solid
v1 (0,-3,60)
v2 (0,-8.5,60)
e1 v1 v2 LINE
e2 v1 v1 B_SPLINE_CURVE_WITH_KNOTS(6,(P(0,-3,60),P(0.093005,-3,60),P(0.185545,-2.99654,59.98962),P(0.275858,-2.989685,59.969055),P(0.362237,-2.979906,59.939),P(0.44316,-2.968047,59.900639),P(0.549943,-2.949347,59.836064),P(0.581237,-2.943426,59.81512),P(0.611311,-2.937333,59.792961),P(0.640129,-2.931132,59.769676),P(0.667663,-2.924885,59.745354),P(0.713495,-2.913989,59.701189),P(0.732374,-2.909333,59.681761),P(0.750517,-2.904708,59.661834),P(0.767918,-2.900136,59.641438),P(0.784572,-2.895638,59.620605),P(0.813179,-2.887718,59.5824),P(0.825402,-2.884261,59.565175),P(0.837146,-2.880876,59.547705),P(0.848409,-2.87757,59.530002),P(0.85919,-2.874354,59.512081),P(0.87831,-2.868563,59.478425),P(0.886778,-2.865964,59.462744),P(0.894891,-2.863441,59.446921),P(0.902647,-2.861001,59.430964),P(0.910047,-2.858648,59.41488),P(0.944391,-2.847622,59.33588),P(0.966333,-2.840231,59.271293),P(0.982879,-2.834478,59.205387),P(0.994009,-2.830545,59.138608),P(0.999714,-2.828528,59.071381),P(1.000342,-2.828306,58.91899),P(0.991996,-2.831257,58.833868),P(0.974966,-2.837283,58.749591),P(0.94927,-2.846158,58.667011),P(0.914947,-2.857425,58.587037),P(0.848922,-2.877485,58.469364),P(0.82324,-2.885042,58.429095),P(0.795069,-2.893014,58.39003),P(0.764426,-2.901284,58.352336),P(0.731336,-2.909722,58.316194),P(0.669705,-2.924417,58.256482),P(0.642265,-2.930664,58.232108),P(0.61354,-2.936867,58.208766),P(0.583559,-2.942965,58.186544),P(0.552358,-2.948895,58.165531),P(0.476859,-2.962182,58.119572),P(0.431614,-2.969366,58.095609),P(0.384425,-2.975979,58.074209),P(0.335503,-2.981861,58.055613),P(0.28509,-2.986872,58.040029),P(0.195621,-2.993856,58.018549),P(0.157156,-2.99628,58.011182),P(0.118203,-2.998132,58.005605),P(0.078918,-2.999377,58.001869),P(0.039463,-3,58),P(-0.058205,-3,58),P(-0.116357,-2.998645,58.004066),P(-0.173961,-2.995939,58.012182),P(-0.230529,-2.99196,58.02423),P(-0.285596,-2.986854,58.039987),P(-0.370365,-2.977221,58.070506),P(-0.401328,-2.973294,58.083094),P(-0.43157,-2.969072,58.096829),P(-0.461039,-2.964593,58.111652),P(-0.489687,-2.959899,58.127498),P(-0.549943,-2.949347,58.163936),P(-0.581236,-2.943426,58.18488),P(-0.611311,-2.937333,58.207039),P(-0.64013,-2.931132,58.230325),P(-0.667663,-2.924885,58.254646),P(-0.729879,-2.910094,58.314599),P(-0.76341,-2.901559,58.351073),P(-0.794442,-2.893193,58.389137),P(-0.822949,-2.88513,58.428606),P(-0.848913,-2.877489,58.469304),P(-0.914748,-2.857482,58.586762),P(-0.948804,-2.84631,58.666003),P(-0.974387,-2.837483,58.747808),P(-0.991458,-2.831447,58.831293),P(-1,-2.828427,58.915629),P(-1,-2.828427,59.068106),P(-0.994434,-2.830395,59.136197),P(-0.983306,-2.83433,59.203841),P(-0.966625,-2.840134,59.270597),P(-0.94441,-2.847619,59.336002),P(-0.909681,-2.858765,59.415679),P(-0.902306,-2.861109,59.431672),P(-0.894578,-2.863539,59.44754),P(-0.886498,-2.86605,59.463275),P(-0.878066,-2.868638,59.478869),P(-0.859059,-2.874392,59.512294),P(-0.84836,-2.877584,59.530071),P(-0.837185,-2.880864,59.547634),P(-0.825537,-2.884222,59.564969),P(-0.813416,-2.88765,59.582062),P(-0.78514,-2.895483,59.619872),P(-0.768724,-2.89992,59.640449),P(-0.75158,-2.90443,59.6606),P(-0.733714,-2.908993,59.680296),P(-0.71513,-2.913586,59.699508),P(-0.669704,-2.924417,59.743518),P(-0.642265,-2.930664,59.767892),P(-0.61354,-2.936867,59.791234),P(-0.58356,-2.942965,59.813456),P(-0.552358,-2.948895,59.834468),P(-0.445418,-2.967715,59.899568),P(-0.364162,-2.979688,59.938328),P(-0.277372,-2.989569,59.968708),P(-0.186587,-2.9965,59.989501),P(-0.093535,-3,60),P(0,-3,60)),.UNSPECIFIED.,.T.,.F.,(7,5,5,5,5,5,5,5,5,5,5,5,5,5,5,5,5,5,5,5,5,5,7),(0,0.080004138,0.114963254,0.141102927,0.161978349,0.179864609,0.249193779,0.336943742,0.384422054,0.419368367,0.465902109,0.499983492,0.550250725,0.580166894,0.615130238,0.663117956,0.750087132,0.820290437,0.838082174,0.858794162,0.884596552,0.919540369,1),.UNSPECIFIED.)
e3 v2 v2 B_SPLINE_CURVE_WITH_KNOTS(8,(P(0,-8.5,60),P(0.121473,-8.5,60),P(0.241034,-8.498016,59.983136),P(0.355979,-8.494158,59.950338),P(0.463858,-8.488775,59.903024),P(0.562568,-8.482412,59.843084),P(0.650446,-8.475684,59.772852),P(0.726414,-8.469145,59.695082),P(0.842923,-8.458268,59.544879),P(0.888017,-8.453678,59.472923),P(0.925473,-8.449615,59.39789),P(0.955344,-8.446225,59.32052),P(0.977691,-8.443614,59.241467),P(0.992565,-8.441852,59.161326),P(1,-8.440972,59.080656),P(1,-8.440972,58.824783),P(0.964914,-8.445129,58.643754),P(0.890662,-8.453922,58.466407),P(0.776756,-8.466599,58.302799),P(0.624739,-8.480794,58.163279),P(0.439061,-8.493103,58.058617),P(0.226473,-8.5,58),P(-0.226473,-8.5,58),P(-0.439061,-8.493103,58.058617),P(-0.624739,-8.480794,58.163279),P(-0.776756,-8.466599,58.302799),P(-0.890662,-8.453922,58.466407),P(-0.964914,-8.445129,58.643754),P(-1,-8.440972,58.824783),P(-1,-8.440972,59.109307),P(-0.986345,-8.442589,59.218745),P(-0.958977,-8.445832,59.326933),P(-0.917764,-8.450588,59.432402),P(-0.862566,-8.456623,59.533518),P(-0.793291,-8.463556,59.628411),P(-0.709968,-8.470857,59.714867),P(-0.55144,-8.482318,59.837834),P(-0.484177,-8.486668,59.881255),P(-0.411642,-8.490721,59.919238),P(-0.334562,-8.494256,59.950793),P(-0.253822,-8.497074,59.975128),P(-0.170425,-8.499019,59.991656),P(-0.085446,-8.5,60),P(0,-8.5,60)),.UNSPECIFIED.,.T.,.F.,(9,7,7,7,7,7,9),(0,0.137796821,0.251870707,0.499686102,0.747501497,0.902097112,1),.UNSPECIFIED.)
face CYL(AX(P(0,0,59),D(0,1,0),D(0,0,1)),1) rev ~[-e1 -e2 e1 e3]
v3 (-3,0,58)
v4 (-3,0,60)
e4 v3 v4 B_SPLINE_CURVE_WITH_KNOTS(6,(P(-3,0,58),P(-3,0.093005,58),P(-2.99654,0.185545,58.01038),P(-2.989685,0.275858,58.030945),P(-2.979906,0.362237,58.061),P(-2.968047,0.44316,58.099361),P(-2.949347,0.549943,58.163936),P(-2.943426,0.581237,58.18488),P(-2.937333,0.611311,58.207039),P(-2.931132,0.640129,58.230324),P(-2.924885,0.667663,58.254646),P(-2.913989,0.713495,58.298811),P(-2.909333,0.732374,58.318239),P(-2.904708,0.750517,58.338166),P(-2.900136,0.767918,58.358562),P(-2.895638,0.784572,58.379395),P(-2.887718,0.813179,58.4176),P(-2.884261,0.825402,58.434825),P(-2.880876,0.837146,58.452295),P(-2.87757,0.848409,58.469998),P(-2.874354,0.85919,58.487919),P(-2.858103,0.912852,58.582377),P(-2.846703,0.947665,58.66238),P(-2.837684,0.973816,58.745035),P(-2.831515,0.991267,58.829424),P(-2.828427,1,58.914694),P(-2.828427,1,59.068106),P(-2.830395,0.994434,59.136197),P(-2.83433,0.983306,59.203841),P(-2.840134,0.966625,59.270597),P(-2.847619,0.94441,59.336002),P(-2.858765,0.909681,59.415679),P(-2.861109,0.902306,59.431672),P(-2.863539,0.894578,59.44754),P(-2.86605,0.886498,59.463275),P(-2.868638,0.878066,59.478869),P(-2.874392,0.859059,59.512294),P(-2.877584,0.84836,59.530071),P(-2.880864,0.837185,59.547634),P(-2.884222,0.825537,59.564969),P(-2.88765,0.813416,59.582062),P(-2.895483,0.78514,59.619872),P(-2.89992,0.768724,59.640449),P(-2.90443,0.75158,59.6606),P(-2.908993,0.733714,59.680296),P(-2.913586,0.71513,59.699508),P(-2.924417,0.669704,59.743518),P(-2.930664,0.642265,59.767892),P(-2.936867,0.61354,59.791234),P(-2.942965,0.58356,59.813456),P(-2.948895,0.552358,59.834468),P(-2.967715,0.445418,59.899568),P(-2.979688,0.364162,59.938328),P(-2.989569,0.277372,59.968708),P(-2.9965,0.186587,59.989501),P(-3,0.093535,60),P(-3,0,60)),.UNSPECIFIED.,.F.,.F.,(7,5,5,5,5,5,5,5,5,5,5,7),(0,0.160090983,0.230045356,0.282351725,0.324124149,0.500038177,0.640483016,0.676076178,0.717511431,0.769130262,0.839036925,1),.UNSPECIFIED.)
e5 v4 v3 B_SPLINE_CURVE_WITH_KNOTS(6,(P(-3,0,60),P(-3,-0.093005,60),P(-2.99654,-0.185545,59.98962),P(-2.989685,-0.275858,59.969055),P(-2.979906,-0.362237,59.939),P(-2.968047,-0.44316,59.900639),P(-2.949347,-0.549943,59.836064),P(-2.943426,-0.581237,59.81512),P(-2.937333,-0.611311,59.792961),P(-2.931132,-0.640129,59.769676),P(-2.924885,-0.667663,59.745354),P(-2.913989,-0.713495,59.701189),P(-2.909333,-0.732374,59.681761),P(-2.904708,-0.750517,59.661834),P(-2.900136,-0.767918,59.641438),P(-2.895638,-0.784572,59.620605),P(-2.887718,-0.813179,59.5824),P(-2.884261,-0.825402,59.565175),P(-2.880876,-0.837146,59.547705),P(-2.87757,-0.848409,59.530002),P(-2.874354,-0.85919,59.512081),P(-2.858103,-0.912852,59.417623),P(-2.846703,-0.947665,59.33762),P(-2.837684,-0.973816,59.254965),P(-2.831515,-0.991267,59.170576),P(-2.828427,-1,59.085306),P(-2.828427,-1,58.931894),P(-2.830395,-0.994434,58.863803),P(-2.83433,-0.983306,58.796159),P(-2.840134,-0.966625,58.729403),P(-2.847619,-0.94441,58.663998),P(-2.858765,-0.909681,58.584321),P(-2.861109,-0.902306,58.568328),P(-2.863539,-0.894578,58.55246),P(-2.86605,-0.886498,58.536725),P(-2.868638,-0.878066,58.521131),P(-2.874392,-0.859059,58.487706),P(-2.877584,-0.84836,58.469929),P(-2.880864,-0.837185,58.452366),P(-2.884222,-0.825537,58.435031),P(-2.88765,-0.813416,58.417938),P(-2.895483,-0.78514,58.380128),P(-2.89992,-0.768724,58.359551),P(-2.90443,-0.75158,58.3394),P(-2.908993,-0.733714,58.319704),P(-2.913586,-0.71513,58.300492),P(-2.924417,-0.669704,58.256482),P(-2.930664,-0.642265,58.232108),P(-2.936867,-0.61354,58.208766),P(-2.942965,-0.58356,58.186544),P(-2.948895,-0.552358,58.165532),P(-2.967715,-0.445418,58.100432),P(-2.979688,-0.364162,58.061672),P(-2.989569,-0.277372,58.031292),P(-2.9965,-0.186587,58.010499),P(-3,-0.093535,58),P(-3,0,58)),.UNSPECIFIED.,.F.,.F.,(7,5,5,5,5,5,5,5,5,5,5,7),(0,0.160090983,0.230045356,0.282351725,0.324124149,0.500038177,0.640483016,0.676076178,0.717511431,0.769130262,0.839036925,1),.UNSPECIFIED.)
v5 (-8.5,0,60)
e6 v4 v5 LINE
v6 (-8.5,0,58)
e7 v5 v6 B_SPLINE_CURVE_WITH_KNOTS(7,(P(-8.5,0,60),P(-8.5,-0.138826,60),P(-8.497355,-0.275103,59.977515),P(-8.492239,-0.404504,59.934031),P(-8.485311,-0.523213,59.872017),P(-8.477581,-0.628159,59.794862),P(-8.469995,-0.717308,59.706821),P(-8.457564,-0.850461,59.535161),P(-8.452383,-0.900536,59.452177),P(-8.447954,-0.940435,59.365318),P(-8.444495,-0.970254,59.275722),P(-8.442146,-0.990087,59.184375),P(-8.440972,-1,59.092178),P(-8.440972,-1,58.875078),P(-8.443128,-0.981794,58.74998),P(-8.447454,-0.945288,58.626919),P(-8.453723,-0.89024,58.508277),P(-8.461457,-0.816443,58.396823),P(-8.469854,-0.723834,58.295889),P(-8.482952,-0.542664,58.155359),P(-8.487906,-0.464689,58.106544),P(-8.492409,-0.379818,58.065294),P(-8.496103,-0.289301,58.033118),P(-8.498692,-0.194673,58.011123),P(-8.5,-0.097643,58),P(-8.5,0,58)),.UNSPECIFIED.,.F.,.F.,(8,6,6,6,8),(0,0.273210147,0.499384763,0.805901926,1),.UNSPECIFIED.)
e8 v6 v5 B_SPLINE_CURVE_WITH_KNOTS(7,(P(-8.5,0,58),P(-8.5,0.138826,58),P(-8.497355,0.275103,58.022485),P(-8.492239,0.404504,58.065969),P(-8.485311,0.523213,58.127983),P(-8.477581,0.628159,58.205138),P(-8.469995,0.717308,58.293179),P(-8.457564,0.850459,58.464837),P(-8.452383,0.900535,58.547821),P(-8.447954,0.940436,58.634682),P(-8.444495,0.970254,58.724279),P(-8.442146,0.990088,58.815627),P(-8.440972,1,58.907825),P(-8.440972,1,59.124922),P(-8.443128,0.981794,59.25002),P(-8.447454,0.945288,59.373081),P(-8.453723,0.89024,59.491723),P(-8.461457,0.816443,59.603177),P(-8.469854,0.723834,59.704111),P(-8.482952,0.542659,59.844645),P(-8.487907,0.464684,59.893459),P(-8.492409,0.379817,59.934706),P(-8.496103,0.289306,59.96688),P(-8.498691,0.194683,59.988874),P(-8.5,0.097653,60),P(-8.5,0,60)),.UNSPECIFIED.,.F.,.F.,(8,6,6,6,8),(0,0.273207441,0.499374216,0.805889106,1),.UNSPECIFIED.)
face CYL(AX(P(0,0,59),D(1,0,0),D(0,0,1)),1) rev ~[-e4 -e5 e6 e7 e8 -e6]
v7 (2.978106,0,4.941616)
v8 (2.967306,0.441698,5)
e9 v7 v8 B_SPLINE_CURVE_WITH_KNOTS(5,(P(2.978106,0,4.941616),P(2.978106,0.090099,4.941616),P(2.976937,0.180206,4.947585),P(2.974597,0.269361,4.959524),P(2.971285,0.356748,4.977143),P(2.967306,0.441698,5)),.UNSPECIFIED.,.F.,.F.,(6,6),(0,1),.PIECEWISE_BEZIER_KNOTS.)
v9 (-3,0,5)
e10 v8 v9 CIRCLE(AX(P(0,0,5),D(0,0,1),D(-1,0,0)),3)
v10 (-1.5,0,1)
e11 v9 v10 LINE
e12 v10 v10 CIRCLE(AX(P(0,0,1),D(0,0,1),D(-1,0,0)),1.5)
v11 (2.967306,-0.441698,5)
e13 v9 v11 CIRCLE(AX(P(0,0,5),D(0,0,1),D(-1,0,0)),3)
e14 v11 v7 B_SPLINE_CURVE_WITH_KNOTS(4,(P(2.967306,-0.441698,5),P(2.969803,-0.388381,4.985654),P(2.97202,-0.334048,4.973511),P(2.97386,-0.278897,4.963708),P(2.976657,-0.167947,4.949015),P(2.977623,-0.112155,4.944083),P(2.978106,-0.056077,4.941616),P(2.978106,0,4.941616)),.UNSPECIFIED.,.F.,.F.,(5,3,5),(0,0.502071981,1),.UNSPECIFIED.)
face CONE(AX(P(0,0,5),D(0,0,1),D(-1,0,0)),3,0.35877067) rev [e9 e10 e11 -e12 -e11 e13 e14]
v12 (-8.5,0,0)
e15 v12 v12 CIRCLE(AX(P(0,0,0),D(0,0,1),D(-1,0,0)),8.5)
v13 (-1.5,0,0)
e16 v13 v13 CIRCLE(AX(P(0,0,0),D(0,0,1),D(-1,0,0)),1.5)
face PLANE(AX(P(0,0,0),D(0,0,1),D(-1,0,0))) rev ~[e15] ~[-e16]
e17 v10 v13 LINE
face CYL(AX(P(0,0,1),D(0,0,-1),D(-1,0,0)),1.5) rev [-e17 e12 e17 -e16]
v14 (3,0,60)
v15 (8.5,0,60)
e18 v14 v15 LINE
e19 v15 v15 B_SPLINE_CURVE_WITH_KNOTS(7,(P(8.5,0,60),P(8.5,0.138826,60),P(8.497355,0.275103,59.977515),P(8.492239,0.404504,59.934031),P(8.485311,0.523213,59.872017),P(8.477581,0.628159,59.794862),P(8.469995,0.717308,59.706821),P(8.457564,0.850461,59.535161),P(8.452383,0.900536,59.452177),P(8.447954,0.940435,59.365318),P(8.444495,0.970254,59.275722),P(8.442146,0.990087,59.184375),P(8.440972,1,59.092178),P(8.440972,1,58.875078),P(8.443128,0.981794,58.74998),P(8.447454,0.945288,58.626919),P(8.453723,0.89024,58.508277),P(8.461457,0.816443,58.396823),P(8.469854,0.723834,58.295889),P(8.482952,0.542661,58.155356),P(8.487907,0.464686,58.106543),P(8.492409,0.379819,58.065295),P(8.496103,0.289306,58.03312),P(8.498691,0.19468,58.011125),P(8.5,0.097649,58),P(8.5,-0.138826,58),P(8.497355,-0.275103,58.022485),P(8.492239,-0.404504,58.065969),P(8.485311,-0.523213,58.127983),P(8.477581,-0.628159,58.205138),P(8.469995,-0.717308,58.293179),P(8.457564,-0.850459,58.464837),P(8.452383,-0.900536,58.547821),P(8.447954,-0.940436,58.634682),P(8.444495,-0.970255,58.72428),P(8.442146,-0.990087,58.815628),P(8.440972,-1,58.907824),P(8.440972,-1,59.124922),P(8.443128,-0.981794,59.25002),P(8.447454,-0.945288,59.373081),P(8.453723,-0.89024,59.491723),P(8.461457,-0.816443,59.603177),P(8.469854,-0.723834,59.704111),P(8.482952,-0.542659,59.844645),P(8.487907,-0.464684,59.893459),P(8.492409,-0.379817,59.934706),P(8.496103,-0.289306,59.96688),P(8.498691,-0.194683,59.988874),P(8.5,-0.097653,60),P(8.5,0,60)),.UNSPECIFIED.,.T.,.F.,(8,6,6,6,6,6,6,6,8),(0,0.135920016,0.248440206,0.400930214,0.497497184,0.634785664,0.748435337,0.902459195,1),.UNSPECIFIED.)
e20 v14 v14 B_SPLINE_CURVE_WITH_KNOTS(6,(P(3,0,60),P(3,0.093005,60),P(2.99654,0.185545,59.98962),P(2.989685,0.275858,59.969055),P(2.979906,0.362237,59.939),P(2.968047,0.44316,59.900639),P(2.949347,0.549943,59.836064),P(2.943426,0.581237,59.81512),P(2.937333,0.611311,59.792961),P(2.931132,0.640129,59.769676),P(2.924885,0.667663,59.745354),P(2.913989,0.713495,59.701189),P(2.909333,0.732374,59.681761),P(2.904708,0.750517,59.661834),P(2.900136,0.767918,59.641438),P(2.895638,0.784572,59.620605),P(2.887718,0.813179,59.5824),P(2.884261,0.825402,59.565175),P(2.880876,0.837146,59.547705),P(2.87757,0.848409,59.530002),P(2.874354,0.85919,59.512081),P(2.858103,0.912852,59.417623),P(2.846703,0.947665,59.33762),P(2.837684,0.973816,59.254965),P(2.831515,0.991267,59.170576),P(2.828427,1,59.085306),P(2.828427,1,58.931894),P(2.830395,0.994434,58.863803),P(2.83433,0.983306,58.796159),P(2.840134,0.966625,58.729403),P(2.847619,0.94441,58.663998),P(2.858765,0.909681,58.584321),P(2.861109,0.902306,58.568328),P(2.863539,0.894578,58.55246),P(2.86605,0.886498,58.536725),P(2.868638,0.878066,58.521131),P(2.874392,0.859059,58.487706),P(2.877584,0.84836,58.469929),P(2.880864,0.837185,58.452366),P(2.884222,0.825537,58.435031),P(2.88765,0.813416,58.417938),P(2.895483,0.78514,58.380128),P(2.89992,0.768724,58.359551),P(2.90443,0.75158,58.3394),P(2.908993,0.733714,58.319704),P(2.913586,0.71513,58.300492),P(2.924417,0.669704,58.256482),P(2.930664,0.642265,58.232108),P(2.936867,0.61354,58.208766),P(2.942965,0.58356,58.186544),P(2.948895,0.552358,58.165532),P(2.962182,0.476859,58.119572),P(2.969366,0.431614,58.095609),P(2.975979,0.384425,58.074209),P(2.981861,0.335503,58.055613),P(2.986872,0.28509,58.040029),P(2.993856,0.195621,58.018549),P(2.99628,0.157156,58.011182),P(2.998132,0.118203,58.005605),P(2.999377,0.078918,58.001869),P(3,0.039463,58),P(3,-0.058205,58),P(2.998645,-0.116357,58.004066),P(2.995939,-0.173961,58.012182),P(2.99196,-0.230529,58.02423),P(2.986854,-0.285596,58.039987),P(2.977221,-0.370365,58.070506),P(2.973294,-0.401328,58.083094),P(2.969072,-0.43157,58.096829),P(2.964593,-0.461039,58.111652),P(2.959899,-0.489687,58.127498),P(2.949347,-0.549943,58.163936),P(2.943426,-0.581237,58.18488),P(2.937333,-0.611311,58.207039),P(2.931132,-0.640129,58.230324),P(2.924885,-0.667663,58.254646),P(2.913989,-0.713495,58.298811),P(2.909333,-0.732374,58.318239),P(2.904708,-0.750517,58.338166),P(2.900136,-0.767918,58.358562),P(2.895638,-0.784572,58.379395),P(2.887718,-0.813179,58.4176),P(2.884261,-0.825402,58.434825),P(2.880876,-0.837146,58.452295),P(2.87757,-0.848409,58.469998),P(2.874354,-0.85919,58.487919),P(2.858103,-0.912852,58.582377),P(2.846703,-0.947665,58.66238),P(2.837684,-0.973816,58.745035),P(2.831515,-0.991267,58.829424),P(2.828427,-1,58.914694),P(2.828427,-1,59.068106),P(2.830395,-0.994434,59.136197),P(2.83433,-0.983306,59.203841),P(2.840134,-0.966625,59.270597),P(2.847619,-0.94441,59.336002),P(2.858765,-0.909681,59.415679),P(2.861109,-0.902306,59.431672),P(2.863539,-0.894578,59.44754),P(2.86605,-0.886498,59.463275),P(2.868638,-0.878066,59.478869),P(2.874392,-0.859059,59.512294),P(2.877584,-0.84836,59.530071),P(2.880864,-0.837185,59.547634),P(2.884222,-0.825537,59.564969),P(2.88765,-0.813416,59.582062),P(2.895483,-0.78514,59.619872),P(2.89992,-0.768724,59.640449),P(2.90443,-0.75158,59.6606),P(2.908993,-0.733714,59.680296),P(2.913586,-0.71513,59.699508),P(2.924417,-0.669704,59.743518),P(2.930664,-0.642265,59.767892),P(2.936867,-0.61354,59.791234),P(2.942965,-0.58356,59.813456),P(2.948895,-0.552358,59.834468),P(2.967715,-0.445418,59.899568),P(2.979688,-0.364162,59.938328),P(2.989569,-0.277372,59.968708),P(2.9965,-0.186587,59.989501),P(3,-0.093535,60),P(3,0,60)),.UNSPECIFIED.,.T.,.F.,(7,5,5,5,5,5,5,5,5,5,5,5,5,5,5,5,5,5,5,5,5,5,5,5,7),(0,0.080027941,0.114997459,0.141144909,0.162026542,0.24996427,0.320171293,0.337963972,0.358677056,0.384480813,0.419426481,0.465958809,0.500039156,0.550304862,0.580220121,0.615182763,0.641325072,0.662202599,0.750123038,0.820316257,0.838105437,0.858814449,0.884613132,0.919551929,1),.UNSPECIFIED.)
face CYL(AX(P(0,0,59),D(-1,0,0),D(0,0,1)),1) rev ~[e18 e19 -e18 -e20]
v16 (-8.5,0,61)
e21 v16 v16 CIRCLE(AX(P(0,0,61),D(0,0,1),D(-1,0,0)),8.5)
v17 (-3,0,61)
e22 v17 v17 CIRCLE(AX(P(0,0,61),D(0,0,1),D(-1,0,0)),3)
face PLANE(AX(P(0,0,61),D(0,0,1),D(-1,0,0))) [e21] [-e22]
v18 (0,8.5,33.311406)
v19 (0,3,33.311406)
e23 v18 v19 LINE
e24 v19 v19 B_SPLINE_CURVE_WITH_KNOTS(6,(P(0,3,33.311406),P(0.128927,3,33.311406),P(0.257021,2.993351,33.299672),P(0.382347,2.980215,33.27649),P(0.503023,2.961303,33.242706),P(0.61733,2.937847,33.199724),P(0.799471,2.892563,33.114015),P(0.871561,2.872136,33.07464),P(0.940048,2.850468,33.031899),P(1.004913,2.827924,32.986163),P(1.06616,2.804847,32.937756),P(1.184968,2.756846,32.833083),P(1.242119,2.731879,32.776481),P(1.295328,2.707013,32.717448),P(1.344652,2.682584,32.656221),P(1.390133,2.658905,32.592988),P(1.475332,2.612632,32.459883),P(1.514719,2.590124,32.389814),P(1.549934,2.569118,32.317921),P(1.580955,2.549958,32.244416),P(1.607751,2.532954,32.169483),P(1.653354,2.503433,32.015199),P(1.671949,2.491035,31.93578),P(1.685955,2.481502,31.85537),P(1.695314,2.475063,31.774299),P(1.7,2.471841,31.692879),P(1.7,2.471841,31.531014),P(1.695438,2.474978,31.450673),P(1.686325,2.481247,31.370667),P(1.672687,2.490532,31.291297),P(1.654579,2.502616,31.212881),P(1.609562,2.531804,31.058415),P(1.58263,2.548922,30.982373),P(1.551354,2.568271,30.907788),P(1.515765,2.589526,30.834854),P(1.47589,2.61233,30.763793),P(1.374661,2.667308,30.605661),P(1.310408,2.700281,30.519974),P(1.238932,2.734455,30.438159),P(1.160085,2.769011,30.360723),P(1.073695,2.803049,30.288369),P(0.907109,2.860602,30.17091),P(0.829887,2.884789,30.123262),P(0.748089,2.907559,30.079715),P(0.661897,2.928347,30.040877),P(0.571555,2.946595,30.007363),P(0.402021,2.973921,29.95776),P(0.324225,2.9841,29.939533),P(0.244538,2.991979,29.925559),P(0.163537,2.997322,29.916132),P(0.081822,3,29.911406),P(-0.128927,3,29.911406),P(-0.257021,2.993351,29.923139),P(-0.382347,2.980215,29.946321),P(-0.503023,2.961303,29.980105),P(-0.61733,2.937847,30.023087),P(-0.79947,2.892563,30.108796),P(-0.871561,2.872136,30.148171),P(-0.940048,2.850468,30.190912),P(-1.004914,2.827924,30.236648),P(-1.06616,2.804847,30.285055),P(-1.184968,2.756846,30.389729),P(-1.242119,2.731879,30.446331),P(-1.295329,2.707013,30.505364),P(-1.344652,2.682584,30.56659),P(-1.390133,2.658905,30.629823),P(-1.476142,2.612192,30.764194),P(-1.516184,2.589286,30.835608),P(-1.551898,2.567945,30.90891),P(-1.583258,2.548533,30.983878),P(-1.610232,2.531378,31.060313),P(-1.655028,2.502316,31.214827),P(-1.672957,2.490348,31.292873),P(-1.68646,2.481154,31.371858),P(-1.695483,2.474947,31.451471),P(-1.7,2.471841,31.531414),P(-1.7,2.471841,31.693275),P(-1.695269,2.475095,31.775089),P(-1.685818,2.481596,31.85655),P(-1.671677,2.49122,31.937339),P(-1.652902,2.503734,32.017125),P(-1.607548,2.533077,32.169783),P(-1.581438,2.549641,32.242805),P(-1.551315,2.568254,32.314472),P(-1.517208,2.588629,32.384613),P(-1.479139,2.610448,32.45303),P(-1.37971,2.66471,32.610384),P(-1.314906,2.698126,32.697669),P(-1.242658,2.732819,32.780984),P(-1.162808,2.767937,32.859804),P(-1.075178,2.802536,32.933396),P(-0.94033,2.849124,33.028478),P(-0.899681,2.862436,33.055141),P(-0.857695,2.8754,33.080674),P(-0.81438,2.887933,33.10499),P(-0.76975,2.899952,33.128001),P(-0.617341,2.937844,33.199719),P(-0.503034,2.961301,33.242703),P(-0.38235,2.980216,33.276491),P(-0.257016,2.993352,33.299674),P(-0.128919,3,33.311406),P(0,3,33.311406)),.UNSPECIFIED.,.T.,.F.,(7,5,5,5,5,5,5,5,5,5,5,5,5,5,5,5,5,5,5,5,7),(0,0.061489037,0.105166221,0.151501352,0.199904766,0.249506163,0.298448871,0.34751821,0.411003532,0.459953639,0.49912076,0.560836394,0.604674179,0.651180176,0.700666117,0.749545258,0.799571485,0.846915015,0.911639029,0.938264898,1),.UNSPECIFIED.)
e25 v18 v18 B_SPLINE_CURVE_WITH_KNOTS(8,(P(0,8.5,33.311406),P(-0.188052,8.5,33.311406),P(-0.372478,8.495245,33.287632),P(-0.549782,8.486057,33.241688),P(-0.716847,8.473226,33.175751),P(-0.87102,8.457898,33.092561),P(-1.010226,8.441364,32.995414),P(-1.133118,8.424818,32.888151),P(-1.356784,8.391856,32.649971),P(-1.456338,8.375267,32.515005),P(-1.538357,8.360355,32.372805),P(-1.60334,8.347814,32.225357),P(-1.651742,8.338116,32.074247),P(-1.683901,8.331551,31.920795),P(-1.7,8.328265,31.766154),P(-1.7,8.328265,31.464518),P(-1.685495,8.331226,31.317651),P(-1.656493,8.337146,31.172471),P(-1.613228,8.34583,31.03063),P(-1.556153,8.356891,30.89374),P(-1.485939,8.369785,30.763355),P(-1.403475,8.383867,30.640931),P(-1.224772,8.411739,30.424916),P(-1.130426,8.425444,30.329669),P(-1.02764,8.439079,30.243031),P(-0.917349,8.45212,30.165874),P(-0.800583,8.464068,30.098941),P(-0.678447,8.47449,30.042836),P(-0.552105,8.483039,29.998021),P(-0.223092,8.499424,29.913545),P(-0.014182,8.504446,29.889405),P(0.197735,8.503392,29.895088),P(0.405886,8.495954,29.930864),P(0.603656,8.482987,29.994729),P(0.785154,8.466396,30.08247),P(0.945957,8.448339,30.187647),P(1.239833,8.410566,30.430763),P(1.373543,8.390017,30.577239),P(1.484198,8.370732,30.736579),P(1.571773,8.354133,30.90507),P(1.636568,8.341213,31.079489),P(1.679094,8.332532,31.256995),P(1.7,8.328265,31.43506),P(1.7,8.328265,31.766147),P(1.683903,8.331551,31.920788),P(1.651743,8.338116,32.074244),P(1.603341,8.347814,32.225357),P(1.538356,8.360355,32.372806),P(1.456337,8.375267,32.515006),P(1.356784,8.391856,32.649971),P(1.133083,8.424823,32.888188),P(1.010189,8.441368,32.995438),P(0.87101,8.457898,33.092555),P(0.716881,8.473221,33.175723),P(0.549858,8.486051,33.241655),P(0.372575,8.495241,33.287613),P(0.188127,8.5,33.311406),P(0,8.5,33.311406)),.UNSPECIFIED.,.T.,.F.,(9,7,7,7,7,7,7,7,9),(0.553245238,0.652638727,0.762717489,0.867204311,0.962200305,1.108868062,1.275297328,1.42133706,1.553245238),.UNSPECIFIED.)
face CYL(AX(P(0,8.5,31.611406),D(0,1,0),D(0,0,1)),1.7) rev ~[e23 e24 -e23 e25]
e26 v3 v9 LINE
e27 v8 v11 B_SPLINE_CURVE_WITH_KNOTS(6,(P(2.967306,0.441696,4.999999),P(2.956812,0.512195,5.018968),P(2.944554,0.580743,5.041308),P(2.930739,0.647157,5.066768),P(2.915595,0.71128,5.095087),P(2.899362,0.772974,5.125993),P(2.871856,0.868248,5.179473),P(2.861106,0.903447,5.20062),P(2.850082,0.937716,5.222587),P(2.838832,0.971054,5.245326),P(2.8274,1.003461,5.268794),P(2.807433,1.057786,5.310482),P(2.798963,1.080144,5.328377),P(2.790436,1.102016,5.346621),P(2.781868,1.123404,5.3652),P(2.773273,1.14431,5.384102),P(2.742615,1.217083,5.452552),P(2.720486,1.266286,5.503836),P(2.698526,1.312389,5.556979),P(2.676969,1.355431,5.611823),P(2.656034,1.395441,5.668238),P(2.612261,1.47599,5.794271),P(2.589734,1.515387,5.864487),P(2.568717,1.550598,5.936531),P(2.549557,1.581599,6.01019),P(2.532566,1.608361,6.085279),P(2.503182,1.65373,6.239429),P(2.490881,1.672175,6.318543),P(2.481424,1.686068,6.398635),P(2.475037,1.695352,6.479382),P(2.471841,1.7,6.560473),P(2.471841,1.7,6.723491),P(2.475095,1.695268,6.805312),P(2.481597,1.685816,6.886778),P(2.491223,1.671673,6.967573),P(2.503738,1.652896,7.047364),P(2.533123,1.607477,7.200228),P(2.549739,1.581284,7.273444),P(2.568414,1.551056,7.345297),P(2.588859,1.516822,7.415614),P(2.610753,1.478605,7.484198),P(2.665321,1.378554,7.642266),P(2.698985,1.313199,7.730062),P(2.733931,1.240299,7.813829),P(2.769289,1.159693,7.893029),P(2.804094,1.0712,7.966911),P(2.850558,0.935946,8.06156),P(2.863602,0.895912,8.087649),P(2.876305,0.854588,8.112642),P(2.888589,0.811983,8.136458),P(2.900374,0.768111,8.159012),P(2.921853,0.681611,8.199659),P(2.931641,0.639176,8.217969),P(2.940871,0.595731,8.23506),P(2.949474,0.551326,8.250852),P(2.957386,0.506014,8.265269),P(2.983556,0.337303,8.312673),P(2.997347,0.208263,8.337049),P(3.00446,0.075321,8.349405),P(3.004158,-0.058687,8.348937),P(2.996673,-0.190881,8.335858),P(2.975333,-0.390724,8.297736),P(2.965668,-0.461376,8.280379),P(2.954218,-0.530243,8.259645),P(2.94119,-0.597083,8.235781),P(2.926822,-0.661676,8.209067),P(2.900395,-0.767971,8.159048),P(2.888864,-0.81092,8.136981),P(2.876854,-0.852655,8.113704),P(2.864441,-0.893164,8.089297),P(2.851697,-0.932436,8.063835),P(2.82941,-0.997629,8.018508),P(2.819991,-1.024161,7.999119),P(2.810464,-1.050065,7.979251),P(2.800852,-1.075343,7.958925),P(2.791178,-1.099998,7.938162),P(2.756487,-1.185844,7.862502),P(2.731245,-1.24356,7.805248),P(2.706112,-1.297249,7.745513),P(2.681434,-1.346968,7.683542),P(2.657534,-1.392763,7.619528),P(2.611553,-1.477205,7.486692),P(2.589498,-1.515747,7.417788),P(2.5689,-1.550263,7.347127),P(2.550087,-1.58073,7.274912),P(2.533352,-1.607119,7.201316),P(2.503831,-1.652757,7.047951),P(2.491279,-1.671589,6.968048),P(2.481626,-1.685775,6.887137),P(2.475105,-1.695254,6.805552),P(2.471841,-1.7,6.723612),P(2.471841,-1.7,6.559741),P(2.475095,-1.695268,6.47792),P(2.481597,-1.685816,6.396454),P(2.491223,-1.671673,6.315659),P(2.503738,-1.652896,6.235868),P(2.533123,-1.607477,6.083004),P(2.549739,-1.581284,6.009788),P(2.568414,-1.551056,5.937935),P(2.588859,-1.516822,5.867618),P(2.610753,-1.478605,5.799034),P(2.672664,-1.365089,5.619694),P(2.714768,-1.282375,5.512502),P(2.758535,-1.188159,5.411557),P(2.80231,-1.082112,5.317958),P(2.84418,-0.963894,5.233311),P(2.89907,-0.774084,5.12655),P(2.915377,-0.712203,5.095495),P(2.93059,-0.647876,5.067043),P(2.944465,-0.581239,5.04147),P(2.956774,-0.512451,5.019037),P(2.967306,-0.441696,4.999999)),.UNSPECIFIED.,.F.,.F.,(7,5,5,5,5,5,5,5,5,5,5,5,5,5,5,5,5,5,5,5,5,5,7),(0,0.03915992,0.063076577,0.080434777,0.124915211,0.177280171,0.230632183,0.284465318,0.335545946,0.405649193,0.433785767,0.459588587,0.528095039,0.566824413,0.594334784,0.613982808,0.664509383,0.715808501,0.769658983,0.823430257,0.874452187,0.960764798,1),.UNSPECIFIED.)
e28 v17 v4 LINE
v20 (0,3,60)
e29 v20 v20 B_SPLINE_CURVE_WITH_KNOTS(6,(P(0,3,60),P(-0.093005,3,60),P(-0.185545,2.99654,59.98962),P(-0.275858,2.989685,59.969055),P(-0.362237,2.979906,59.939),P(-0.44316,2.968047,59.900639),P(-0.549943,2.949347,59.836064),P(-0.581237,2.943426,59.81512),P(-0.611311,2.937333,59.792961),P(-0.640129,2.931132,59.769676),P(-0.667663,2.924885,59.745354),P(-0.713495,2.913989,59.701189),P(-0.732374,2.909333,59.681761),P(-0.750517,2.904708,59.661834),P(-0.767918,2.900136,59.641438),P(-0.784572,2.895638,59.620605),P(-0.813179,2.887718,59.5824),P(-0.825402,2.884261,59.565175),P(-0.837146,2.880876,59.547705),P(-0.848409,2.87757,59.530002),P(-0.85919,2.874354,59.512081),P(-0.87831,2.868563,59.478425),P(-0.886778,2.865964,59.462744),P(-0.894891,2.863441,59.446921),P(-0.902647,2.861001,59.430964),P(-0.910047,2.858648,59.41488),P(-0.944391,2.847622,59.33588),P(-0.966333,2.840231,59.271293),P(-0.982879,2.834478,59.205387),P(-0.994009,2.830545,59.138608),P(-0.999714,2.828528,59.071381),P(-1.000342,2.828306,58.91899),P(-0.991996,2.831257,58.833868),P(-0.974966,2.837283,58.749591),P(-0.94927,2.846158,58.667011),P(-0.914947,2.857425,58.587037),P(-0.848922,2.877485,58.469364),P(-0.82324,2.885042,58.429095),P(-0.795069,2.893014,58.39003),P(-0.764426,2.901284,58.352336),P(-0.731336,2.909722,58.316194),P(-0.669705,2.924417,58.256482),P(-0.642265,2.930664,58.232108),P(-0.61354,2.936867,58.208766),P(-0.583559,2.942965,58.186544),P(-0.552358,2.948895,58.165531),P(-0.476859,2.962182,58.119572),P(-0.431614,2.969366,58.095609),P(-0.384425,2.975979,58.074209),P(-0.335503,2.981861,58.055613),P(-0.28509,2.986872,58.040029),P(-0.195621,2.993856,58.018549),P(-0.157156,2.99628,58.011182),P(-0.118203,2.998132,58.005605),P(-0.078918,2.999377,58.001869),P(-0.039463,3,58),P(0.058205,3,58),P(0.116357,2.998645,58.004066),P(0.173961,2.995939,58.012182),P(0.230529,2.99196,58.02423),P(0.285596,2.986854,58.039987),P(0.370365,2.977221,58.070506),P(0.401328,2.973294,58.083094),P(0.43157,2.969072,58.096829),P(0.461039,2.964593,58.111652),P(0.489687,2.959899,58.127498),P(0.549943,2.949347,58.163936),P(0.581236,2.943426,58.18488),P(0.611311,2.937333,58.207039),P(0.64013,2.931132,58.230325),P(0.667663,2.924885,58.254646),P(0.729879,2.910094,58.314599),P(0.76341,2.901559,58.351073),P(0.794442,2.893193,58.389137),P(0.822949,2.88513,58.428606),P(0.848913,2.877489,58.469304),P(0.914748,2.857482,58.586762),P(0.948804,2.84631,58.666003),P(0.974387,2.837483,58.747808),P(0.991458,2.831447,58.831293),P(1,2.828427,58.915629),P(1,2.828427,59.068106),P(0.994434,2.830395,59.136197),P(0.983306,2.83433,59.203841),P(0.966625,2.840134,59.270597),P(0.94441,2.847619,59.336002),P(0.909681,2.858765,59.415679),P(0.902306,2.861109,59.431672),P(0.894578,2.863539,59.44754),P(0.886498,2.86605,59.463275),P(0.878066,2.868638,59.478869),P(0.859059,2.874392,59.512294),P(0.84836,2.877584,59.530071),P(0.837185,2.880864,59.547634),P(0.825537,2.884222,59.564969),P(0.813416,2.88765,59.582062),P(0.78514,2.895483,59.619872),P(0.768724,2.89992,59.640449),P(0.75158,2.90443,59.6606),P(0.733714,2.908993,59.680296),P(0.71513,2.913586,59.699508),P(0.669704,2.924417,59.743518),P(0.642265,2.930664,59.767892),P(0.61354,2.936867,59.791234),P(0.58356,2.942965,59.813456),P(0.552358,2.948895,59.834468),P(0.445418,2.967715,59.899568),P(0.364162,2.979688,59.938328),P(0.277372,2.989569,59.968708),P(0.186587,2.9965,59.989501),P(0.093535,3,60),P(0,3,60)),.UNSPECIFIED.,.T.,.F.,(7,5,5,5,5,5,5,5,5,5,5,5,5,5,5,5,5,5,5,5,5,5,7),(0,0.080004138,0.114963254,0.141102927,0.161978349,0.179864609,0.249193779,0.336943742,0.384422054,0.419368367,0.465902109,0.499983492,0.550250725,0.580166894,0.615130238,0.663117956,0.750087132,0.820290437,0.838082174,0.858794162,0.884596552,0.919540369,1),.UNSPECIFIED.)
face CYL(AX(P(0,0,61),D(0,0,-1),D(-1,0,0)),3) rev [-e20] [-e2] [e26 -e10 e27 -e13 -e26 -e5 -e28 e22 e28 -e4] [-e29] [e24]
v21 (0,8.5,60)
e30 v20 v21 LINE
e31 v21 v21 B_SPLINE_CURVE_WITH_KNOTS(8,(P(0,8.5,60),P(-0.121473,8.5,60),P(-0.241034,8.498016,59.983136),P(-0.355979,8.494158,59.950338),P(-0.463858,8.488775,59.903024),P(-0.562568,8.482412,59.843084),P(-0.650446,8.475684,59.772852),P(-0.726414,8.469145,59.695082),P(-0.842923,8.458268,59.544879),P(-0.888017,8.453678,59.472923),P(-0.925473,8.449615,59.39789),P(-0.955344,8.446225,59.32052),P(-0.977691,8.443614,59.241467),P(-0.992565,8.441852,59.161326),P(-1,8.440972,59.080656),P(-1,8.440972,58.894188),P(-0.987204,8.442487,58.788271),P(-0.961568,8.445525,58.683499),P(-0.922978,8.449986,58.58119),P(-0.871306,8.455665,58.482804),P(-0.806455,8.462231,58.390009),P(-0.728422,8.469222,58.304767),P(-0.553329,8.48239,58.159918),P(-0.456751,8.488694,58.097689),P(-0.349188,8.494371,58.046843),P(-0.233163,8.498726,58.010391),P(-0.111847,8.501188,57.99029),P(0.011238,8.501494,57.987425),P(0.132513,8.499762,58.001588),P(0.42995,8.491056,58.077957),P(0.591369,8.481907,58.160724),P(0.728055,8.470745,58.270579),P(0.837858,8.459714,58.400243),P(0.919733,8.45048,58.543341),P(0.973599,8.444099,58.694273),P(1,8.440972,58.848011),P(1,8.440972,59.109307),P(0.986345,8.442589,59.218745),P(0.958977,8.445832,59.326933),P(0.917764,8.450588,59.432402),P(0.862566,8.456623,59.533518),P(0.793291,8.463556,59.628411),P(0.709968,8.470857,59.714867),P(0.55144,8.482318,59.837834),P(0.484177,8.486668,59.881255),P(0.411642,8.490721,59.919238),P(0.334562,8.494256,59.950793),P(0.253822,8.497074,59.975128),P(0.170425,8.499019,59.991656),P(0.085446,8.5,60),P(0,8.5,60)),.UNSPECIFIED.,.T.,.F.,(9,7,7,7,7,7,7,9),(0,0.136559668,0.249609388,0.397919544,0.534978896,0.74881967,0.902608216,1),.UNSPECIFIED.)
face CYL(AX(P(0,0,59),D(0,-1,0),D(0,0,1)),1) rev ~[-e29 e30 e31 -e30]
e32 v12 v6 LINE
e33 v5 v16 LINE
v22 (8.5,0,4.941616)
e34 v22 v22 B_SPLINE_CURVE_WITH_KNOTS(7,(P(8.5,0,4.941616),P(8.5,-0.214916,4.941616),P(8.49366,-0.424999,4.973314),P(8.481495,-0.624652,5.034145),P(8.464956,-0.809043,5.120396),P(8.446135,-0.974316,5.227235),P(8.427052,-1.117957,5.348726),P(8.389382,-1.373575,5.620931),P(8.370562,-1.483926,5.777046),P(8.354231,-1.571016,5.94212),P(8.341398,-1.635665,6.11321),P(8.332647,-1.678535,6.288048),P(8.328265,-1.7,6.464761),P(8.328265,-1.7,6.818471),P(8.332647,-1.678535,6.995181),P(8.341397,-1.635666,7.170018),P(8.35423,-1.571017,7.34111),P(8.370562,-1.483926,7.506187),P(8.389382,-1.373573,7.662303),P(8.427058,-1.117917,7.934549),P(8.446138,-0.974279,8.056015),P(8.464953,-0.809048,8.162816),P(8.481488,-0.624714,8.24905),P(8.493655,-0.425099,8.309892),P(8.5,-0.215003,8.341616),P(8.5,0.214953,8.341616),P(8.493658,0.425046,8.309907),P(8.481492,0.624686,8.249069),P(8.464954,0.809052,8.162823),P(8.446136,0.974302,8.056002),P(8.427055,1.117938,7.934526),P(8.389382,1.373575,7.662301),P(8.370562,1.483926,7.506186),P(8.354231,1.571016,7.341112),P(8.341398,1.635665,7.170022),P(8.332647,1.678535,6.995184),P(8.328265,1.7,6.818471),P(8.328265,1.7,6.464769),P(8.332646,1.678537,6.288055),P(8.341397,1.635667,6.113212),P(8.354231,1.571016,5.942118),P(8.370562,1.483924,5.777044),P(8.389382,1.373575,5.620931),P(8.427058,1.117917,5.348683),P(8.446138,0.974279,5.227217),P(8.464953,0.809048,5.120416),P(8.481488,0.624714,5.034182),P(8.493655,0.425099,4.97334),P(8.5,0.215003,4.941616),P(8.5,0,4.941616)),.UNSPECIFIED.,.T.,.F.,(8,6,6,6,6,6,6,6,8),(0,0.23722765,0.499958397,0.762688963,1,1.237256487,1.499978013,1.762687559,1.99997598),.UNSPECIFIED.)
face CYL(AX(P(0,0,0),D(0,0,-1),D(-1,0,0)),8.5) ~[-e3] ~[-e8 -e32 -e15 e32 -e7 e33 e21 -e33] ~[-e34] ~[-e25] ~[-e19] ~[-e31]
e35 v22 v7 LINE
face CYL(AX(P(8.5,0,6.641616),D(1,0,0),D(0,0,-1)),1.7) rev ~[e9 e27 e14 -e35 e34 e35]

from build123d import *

# Parameters (mm, degrees)
SKETCH1_R           = 8.5
BOSS_EXTRUDE1_DEPTH = 61
SKETCH9_R           = 1.7
CUT_EXTRUDE2_DEPTH  = 6.7
SKETCH10_R          = 1
CUT_EXTRUDE3_DEPTH  = 8.7
CIRPATTERN1_COUNT   = 4
SKETCH11_R          = 1.7
CUT_EXTRUDE4_DEPTH  = 8.7


with BuildPart() as part:
    # Sketch1 → Boss-Extrude1 (new body)
    with BuildSketch(Plane.XY):
        with Locations(Location((0, 0, 0), (0, 0, 180))):
            Circle(SKETCH1_R)
    extrude(amount=BOSS_EXTRUDE1_DEPTH)

    # Sketch7 → Cut-Revolve1 (revolve, cut)
    with BuildSketch(Plane(origin=(0, 0, 0), x_dir=(0, 0, -1), z_dir=(1, 0, 0)), mode=Mode.PRIVATE) as cut_revolve1_sk:
        Polygon((-61, 3), (-5, 3), (-1, 1.5), (0, 1.5), (0, 0), (-61, 0), align=None)
    revolve(cut_revolve1_sk.sketch.rotate(Axis((0, 0, 0), (0, 0, 1)), 90), axis=Axis((0, 0, 0), (0, 0, 1)), mode=Mode.SUBTRACT)

    # Sketch9 → Cut-Extrude2 (cut)
    with BuildSketch(Plane(origin=(8.5, 0, 0), x_dir=(0, 0, -1), z_dir=(1, 0, 0))):
        with Locations((-6.641615966, 0)):
            Circle(SKETCH9_R)
    extrude(amount=-CUT_EXTRUDE2_DEPTH, mode=Mode.SUBTRACT)

    # Sketch10 → Cut-Extrude3 (cut)
    with BuildSketch(Plane(origin=(0, 0, 0), x_dir=(0, 0, -1), z_dir=(1, 0, 0))):
        with Locations(Location((-59, 0, 0), (0, 0, 180))):
            Circle(SKETCH10_R)
    cut_extrude3 = extrude(amount=-CUT_EXTRUDE3_DEPTH, mode=Mode.SUBTRACT)

    # CirPattern1: Cut-Extrude3 ×4 about axis
    cirpattern1_axis = Axis((0, 0, 61), (0, 0, 1))
    for i in range(1, CIRPATTERN1_COUNT):
        add(cut_extrude3.rotate(cirpattern1_axis, i * 360 / CIRPATTERN1_COUNT), mode=Mode.SUBTRACT)

    # Sketch11 → Cut-Extrude4 (cut)
    with BuildSketch(Plane(origin=(0, 8.5, 0), x_dir=(1, 0, 0), z_dir=(0, 1, 0))):
        with Locations(Location((0, -31.611405642, 0), (0, 0, 270))):
            Circle(SKETCH11_R)
    extrude(amount=-CUT_EXTRUDE4_DEPTH, mode=Mode.SUBTRACT)


solid = part.part
